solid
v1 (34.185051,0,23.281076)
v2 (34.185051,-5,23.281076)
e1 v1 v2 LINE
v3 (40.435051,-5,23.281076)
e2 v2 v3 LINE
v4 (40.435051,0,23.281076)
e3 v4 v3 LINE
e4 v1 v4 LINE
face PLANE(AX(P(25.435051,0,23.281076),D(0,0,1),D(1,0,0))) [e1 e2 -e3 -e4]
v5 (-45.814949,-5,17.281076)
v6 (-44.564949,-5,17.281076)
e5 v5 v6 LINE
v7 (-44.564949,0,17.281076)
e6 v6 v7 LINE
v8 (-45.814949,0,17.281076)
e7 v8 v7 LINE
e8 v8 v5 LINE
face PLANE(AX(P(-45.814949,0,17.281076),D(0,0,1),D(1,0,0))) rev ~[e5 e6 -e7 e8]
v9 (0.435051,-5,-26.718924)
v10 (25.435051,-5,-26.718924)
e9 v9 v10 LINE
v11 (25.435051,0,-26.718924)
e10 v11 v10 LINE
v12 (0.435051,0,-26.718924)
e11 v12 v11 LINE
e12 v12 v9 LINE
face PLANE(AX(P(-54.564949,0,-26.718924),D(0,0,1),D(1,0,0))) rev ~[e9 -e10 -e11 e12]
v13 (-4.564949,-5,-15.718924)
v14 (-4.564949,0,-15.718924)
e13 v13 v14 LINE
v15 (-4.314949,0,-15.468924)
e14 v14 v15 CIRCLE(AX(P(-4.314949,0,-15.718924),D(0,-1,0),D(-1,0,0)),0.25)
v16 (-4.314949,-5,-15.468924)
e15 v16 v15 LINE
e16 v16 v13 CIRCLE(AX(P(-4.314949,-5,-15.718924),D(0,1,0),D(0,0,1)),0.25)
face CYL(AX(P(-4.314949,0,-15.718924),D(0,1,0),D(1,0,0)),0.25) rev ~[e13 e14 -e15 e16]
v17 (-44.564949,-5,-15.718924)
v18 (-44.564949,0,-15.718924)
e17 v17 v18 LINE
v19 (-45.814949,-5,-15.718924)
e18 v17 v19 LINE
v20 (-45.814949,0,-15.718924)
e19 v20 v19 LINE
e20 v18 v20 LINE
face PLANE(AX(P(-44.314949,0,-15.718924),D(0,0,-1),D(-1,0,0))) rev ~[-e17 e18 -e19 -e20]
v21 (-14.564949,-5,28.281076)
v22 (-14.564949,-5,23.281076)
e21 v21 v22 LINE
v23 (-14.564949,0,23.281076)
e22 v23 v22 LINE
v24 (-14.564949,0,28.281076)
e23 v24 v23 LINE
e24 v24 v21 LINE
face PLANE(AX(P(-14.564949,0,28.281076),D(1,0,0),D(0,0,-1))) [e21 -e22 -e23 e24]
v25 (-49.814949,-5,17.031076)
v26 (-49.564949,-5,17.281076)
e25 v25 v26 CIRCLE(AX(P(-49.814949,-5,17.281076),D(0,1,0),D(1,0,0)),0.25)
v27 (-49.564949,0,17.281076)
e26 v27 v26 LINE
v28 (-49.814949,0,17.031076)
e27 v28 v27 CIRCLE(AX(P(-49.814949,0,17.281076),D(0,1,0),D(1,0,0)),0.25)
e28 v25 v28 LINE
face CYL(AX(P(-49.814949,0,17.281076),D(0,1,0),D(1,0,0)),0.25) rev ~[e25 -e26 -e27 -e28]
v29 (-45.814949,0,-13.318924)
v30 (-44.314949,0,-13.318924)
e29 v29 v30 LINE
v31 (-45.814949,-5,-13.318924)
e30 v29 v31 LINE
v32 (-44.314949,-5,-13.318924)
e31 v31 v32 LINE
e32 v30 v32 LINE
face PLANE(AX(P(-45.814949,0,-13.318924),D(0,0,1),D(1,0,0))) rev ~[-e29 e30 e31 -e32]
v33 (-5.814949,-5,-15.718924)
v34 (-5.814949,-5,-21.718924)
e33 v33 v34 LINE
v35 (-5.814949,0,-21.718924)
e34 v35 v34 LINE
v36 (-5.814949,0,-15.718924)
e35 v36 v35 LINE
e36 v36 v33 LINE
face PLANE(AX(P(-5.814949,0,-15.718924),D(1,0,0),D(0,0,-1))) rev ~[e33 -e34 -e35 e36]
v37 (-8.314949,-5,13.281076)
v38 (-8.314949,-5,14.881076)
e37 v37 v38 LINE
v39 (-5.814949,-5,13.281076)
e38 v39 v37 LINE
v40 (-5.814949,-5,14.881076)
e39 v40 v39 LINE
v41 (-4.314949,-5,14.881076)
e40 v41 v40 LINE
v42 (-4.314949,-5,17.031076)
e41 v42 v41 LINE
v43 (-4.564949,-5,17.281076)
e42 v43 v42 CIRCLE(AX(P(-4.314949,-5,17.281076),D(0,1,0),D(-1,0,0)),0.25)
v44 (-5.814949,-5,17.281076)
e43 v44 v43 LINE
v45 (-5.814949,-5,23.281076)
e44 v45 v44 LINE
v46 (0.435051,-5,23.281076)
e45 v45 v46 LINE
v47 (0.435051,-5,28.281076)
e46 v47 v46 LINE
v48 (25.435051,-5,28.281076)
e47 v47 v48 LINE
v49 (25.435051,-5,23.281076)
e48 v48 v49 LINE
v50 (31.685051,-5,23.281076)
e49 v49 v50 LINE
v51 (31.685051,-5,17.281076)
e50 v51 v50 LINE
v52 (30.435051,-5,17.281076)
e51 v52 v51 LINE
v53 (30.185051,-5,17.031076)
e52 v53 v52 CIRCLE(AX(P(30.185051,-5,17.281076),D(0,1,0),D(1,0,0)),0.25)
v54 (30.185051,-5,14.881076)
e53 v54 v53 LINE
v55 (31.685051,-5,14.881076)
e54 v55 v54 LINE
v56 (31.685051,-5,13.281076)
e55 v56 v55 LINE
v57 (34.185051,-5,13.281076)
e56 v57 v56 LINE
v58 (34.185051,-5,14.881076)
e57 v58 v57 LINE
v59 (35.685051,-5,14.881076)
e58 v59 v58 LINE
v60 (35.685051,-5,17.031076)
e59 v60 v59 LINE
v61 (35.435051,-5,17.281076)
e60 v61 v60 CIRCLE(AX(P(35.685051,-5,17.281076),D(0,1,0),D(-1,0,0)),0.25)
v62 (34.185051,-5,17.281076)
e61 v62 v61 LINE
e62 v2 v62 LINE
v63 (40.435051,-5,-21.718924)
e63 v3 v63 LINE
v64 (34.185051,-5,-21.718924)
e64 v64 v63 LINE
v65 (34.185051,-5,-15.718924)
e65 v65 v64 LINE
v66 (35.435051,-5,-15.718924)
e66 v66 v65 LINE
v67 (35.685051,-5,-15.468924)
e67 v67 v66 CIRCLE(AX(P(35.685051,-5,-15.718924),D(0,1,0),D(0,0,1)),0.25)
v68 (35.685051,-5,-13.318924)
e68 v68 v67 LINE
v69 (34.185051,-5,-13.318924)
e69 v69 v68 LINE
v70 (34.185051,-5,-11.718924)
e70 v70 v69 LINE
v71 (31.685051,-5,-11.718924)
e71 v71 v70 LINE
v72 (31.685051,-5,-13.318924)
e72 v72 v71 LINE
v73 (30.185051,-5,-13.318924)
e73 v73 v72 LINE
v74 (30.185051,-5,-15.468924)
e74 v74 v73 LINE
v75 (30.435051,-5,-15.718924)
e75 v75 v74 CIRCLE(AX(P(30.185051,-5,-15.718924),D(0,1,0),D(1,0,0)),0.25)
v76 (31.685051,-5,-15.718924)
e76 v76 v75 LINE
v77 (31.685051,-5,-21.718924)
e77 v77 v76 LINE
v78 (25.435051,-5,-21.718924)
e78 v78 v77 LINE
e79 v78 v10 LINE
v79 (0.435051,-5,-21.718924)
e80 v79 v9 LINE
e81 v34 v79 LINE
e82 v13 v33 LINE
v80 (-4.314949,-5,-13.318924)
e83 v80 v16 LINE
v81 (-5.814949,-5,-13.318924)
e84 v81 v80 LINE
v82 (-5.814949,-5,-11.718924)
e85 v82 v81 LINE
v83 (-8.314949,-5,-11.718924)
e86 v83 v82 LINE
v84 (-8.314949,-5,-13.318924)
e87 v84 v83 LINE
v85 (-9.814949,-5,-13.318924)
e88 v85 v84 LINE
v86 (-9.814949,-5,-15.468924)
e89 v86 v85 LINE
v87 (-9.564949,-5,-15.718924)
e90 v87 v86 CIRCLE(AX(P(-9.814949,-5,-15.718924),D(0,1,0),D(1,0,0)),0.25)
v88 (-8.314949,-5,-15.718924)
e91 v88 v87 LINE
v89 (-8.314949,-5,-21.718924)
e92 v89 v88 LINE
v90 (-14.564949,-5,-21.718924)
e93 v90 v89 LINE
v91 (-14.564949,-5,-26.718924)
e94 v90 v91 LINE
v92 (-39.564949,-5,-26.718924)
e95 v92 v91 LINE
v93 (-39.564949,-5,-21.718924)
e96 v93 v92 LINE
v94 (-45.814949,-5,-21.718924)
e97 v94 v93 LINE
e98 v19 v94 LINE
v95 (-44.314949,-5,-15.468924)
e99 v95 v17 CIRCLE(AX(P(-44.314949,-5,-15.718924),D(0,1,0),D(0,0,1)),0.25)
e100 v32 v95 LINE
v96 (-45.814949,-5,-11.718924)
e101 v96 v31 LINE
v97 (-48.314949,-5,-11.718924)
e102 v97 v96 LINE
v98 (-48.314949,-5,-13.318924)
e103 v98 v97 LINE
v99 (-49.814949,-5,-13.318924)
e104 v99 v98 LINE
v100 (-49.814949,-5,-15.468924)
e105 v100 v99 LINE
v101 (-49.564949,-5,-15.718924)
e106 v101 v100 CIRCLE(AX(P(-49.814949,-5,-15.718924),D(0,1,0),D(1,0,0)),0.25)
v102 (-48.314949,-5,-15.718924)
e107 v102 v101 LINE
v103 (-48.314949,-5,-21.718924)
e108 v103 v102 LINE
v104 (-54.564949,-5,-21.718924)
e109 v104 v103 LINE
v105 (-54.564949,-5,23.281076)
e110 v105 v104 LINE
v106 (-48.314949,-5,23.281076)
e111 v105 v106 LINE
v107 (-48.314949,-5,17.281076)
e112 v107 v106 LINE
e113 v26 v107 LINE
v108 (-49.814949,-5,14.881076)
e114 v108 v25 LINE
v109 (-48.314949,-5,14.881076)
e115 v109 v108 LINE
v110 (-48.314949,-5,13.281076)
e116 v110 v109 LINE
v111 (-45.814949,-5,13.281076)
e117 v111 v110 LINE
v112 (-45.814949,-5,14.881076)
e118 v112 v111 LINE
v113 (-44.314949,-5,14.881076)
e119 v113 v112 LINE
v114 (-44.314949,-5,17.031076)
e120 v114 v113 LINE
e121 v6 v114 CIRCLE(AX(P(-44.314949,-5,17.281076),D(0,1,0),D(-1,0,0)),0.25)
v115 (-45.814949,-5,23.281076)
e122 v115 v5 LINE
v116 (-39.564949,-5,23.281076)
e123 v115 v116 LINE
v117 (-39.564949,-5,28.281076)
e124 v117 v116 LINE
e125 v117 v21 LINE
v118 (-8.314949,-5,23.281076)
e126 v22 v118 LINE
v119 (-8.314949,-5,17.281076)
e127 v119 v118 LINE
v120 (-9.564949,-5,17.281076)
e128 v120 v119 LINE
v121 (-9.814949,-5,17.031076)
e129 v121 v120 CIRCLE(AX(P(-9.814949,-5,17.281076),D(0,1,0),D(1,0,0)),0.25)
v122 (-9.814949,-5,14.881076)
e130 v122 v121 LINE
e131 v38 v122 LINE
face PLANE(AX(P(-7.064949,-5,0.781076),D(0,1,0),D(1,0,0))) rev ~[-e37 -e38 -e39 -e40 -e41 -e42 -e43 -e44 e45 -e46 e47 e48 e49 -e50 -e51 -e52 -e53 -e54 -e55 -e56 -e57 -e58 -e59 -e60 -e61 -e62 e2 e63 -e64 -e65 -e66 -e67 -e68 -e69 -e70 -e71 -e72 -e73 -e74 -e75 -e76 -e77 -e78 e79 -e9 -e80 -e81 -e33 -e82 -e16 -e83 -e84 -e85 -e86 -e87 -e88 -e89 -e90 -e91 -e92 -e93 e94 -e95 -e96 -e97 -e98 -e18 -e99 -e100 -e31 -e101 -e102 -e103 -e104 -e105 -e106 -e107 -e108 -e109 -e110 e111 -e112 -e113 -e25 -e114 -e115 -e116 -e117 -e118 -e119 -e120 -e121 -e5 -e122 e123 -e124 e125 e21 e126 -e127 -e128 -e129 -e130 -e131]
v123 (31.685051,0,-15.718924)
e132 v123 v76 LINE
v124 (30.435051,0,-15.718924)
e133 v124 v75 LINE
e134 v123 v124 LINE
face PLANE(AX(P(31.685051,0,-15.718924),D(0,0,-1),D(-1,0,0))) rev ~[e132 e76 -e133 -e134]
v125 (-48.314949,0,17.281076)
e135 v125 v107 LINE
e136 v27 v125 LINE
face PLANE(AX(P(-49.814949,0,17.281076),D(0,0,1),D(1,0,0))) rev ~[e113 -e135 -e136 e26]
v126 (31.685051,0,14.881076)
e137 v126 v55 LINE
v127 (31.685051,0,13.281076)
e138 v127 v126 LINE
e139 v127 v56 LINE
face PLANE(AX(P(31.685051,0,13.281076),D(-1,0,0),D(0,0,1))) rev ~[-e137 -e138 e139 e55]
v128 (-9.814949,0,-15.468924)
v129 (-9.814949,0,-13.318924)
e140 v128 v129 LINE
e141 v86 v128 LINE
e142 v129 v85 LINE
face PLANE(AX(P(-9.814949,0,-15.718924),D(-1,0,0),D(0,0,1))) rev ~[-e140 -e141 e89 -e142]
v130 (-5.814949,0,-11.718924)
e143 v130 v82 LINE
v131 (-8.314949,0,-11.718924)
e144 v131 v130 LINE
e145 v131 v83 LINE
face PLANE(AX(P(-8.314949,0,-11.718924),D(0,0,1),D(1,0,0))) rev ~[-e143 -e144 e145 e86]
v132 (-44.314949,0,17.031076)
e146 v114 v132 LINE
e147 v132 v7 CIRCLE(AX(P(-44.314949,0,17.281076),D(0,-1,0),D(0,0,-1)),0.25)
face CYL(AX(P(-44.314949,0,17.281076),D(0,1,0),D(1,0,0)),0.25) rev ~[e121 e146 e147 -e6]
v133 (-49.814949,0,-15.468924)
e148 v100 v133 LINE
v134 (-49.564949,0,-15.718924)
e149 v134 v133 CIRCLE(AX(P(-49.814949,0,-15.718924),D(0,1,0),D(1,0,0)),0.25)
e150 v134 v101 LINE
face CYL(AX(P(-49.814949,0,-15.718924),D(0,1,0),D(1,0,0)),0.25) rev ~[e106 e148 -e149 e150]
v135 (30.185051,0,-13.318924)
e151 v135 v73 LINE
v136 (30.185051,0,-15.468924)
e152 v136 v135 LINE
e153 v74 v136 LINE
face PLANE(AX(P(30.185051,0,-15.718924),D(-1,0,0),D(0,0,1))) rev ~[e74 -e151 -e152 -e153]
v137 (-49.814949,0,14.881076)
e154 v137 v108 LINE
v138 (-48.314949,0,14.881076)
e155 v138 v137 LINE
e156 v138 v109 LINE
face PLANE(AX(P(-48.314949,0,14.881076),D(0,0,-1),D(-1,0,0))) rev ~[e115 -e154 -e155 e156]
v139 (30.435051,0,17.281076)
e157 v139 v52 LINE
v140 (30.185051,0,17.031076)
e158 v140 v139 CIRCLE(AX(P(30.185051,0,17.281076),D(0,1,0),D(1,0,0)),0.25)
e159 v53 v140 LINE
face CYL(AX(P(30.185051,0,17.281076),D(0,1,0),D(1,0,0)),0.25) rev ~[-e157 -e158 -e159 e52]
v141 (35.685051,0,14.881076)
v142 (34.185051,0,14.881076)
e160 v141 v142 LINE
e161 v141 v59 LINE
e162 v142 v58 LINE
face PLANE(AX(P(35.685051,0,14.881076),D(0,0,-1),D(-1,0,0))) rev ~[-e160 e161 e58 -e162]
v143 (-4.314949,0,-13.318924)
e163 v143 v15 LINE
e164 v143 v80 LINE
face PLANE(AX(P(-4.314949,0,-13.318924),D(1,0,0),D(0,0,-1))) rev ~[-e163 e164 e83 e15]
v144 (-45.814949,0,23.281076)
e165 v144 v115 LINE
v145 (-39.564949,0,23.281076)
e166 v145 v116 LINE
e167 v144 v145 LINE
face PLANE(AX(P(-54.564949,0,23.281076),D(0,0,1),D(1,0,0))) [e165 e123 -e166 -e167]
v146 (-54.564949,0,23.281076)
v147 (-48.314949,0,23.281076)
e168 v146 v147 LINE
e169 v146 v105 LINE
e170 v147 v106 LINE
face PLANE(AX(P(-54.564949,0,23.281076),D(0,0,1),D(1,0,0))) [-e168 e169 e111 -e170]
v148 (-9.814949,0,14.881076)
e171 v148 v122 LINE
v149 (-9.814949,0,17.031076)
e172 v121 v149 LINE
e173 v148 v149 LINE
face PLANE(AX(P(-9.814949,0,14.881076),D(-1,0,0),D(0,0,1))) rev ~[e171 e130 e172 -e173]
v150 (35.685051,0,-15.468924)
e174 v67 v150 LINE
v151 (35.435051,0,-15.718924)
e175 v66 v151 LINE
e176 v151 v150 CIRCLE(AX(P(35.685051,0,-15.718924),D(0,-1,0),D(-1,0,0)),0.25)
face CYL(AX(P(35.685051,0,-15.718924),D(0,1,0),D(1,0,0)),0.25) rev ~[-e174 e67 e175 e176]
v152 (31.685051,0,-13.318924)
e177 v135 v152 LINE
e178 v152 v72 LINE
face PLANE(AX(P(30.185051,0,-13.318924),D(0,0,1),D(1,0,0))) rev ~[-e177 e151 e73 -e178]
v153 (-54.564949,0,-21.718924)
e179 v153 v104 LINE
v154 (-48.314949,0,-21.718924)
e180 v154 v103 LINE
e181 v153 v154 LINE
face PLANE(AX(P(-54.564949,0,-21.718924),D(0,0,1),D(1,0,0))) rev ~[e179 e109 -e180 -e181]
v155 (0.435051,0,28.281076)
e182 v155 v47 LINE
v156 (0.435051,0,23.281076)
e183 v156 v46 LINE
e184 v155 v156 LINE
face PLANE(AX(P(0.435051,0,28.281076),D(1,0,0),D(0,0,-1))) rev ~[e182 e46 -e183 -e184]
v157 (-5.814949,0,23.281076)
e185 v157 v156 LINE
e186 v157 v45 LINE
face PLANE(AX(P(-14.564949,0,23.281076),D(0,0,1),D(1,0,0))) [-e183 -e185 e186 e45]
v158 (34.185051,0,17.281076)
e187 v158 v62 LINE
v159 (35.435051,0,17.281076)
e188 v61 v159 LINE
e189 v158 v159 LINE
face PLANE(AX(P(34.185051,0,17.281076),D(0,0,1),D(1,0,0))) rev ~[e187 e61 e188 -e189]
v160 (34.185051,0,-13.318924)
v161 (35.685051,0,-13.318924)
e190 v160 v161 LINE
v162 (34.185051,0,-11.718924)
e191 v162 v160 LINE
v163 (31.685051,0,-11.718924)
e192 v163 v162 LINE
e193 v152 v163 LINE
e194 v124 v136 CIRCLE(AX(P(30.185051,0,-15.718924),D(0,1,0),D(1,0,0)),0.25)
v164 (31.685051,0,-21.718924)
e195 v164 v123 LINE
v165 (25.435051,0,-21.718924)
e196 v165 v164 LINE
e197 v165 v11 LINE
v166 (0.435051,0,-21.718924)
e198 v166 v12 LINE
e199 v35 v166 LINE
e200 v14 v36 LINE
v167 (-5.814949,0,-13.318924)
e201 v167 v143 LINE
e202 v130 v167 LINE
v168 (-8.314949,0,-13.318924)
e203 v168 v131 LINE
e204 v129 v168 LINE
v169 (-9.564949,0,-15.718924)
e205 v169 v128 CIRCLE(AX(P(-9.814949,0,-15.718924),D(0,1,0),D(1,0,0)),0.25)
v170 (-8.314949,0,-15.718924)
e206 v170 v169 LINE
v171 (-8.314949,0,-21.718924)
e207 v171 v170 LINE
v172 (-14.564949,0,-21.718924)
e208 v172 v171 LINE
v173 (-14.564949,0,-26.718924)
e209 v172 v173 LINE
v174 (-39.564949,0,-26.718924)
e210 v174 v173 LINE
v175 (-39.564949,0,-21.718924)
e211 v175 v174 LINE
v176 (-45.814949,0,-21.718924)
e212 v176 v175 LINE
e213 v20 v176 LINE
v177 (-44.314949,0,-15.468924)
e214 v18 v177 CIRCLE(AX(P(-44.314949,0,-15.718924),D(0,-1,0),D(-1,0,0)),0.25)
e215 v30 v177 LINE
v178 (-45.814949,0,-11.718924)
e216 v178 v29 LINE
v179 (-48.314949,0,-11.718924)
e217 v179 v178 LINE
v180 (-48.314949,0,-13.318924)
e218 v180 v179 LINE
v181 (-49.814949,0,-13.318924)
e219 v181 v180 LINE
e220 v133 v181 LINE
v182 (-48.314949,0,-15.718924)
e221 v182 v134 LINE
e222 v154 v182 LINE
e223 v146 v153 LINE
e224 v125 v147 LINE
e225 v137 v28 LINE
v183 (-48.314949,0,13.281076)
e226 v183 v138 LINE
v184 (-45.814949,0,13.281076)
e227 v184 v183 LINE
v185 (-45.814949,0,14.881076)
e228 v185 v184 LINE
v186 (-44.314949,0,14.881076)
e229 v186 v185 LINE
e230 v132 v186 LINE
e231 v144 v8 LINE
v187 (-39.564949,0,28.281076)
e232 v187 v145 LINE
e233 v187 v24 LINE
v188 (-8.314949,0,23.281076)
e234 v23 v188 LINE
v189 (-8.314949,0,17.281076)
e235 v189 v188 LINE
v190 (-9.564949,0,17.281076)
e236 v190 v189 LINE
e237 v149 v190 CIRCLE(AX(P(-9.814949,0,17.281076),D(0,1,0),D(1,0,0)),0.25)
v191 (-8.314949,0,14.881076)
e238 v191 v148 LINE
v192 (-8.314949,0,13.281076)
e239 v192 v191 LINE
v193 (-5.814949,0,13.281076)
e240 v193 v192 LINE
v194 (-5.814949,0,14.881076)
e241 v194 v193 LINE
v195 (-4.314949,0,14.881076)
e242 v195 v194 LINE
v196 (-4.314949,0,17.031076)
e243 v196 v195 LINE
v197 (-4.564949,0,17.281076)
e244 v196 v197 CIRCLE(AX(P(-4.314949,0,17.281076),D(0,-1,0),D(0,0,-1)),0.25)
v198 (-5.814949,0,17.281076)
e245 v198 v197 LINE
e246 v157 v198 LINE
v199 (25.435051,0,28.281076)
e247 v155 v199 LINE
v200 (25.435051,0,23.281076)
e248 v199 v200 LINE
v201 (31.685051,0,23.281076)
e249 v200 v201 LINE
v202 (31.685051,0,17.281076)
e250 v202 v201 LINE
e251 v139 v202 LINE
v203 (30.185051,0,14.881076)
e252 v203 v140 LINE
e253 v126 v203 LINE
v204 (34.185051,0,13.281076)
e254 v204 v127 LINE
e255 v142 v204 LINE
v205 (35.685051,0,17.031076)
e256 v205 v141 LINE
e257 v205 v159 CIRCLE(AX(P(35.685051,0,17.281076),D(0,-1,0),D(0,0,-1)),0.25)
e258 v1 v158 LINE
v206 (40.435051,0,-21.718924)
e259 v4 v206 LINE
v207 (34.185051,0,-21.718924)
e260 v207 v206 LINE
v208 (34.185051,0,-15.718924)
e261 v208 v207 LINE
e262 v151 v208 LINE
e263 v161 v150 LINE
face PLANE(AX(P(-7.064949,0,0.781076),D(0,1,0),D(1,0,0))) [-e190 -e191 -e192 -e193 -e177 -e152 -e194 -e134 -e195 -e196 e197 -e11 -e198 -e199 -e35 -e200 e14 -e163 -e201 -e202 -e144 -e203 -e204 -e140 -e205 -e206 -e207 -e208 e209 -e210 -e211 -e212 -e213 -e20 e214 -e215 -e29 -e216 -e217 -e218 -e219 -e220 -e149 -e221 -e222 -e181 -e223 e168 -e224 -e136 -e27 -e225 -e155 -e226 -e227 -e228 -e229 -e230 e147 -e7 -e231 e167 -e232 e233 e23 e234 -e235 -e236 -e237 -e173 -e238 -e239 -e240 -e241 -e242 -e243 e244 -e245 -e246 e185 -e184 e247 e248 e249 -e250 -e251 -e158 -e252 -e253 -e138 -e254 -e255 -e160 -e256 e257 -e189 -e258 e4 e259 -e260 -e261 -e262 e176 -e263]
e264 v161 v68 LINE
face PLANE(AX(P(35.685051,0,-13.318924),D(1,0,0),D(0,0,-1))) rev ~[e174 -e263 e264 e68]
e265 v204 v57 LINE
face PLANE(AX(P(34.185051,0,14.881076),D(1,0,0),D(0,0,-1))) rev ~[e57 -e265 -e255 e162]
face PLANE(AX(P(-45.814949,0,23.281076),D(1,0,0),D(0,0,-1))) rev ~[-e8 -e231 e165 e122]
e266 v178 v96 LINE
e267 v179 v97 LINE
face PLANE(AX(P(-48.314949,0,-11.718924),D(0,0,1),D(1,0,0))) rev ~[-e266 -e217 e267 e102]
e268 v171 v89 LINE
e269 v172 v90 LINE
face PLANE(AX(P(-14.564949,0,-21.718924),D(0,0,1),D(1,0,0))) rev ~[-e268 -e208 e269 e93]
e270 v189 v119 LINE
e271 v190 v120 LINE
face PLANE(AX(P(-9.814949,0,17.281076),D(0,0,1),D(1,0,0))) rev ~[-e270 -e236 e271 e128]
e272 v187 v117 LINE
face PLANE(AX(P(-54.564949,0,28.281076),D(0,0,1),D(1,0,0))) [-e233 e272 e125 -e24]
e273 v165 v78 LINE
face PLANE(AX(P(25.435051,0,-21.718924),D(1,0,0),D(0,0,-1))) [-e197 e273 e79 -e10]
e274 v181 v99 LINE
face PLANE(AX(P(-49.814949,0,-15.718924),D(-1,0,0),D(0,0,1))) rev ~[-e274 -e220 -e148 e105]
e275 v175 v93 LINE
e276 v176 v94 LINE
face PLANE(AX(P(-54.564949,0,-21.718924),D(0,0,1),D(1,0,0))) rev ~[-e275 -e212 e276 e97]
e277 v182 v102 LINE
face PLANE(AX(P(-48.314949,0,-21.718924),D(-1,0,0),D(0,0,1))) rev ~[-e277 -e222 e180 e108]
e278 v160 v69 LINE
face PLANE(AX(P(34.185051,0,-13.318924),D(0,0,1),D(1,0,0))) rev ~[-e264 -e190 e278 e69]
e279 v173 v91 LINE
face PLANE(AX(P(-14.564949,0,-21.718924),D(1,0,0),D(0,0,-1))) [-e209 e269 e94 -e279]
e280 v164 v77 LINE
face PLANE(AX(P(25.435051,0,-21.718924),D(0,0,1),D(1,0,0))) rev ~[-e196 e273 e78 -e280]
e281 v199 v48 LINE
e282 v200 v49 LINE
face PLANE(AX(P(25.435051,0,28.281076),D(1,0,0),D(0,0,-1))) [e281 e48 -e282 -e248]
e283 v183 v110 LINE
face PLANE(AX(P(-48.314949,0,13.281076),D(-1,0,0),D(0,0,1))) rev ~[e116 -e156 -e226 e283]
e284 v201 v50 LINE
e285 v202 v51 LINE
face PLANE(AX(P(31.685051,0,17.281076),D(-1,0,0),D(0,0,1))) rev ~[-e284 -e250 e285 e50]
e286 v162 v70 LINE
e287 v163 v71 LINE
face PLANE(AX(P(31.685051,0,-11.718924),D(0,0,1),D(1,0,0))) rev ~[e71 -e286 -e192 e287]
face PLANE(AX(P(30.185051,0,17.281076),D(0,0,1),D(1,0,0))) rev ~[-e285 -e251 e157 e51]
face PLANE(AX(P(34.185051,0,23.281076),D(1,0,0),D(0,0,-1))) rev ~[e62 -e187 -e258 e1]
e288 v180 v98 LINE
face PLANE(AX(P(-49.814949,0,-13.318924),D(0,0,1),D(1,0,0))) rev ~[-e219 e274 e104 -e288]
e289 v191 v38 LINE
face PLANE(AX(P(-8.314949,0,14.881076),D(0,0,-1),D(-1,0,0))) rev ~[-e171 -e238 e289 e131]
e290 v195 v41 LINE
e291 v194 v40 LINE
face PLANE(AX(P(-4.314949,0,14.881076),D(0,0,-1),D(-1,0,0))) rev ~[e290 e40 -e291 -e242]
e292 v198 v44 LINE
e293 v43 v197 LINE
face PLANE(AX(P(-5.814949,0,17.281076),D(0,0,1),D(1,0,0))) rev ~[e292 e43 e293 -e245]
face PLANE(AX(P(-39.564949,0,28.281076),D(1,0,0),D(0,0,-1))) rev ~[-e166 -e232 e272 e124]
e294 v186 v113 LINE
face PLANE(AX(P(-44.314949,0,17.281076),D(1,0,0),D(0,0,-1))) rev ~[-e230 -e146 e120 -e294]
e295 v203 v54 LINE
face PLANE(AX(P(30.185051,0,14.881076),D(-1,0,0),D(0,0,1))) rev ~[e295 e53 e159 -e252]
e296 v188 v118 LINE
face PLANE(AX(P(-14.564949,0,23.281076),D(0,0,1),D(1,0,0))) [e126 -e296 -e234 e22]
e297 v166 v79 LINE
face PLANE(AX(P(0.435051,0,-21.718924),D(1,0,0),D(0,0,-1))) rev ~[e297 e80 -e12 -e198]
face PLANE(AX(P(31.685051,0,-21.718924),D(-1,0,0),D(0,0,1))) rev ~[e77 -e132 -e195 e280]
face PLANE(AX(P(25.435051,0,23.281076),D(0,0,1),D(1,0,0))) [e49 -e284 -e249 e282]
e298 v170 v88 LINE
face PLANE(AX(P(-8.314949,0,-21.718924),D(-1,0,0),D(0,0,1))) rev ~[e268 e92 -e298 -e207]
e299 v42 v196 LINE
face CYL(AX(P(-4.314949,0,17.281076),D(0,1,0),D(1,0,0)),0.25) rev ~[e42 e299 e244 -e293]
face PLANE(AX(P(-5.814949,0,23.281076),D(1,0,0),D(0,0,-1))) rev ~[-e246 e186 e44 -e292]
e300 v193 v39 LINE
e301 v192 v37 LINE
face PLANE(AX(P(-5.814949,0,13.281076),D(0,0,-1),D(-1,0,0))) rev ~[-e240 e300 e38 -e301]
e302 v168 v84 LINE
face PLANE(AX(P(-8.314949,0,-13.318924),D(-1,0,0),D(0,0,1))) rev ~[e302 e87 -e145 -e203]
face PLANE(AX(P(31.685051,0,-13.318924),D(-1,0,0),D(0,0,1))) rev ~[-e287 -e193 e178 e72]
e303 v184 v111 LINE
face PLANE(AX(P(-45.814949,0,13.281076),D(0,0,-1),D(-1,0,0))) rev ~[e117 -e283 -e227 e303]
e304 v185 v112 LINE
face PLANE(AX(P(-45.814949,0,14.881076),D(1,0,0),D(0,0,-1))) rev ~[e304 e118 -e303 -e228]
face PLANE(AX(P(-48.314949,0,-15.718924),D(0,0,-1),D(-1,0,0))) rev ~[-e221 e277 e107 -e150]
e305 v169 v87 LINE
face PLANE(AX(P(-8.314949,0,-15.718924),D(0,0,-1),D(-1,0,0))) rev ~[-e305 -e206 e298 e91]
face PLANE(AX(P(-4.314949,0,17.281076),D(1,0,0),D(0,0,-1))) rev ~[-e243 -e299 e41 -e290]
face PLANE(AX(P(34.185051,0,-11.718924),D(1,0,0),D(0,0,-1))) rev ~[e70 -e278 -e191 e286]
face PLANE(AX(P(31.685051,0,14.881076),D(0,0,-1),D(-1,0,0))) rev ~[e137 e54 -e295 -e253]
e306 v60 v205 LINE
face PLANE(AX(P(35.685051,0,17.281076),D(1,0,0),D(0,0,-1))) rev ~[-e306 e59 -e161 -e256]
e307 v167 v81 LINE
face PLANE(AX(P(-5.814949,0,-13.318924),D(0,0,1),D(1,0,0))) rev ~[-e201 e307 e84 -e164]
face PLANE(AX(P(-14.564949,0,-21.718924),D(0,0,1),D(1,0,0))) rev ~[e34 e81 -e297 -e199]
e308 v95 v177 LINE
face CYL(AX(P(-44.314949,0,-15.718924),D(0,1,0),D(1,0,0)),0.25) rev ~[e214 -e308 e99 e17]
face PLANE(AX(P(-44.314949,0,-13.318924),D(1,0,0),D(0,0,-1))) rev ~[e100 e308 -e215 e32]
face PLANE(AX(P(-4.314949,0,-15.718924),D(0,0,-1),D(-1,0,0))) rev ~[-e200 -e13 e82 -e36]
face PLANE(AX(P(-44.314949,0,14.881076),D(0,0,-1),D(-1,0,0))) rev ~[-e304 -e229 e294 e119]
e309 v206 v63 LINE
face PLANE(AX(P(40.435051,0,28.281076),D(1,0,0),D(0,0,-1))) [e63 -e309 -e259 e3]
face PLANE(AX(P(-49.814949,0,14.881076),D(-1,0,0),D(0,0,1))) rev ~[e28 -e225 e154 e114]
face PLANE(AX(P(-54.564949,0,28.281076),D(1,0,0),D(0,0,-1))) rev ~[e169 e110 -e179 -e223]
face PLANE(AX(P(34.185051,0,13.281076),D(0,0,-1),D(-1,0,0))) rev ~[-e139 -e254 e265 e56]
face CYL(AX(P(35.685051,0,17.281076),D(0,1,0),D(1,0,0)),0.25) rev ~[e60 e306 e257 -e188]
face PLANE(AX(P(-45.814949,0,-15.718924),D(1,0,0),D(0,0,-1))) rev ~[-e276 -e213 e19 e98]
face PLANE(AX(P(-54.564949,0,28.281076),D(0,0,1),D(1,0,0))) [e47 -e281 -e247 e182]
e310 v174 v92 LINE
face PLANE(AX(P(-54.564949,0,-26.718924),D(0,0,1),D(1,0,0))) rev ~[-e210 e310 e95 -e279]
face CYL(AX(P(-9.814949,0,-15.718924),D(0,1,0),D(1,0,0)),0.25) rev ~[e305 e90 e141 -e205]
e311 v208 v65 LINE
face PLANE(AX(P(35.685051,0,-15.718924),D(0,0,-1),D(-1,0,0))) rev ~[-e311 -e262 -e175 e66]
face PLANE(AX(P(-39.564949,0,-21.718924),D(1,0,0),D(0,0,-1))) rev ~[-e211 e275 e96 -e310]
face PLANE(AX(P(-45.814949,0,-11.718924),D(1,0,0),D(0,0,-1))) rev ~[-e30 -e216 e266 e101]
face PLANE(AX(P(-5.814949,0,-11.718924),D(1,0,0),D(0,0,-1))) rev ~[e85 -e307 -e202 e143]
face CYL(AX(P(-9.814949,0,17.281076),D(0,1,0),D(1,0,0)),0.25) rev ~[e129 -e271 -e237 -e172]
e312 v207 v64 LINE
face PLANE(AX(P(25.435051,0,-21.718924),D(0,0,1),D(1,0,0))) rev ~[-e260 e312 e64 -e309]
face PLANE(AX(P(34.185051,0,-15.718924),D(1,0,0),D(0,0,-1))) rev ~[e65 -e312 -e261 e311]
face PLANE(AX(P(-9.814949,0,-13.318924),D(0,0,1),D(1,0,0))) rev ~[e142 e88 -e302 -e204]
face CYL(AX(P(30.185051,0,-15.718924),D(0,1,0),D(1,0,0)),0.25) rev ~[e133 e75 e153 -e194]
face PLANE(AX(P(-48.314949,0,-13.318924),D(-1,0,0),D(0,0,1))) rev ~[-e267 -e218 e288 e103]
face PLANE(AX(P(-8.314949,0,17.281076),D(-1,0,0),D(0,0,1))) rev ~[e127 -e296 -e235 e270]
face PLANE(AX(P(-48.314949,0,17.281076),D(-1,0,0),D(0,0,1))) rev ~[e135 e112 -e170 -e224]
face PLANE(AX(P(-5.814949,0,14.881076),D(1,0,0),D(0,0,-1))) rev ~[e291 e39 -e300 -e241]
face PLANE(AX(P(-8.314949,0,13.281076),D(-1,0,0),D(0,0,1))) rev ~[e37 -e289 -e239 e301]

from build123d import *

# Parameters (mm, degrees)
SCHIZZO1_W                   = 95
SCHIZZO1_H                   = 55
ESTRUSIONE_ESTRUSIONE2_DEPTH = 5
SCHIZZO2_W                   = 15
SCHIZZO2_H                   = 5
TAGLIO_ESTRUSIONE1_DEPTH     = 6
TAGLIO_ESTRUSIONE3_DEPTH     = 6
SCHIZZO4_R                   = 0.25
TAGLIO_ESTRUSIONE4_DEPTH     = 10


with BuildPart() as part:
    # Schizzo1 → Estrusione-Estrusione2 (new body)
    with BuildSketch(Plane(origin=(0, 0, 0), x_dir=(1, 0, 0), z_dir=(0, 1, 0))):
        with Locations((-7.06494914, -0.781075862)):
            Rectangle(SCHIZZO1_W, SCHIZZO1_H)
    extrude(amount=-ESTRUSIONE_ESTRUSIONE2_DEPTH)

    # Schizzo2 → Taglio-Estrusione1 (cut, through all)
    with BuildSketch(Plane(origin=(0, 0, 0), x_dir=(1, 0, 0), z_dir=(0, 1, 0))):
        with Locations((-47.06494914, -25.781075862)):
            Rectangle(SCHIZZO2_W, SCHIZZO2_H)
        with Locations((-47.06494914, 24.218924138)):
            Rectangle(SCHIZZO2_W, SCHIZZO2_H)
        with Locations((32.93505086, -25.781075862)):
            Rectangle(SCHIZZO2_W, SCHIZZO2_H)
        with Locations((32.93505086, 24.218924138)):
            Rectangle(SCHIZZO2_W, SCHIZZO2_H)
        with Locations((-7.06494914, -25.781075862)):
            Rectangle(SCHIZZO2_W, SCHIZZO2_H)
        with Locations((-7.06494914, 24.218924138)):
            Rectangle(SCHIZZO2_W, SCHIZZO2_H)
    extrude(amount=-TAGLIO_ESTRUSIONE1_DEPTH, mode=Mode.SUBTRACT)

    # Schizzo3 → Taglio-Estrusione3 (cut, through all)
    with BuildSketch(Plane(origin=(0, 0, 0), x_dir=(1, 0, 0), z_dir=(0, 1, 0))):
        Polygon((-48.31494914, -23.281075862), (-45.81494914, -23.281075862), (-45.81494914, -17.281075862), (-44.31494914, -17.281075862), (-44.31494914, -14.881075862), (-45.81494914, -14.881075862), (-45.81494914, -13.281075862), (-48.31494914, -13.281075862), (-48.31494914, -14.881075862), (-49.81494914, -14.881075862), (-49.81494914, -17.281075862), (-48.31494914, -17.281075862), align=None)
        Polygon((-8.31494914, -23.281075862), (-5.81494914, -23.281075862), (-5.81494914, -17.281075862), (-4.31494914, -17.281075862), (-4.31494914, -14.881075862), (-5.81494914, -14.881075862), (-5.81494914, -13.281075862), (-8.31494914, -13.281075862), (-8.31494914, -14.881075862), (-9.81494914, -14.881075862), (-9.81494914, -17.281075862), (-8.31494914, -17.281075862), align=None)
        Polygon((31.68505086, -23.281075862), (34.18505086, -23.281075862), (34.18505086, -17.281075862), (35.68505086, -17.281075862), (35.68505086, -14.881075862), (34.18505086, -14.881075862), (34.18505086, -13.281075862), (31.68505086, -13.281075862), (31.68505086, -14.881075862), (30.18505086, -14.881075862), (30.18505086, -17.281075862), (31.68505086, -17.281075862), align=None)
        Polygon((31.68505086, 11.718924138), (34.18505086, 11.718924138), (34.18505086, 13.318924138), (35.68505086, 13.318924138), (35.68505086, 15.718924138), (34.18505086, 15.718924138), (34.18505086, 21.718924138), (31.68505086, 21.718924138), (31.68505086, 15.718924138), (30.18505086, 15.718924138), (30.18505086, 13.318924138), (31.68505086, 13.318924138), align=None)
        Polygon((-8.31494914, 11.718924138), (-5.81494914, 11.718924138), (-5.81494914, 13.318924138), (-4.31494914, 13.318924138), (-4.31494914, 15.718924138), (-5.81494914, 15.718924138), (-5.81494914, 21.718924138), (-8.31494914, 21.718924138), (-8.31494914, 15.718924138), (-9.81494914, 15.718924138), (-9.81494914, 13.318924138), (-8.31494914, 13.318924138), align=None)
        Polygon((-48.31494914, 11.718924138), (-45.81494914, 11.718924138), (-45.81494914, 13.318924138), (-44.31494914, 13.318924138), (-44.31494914, 15.718924138), (-45.81494914, 15.718924138), (-45.81494914, 21.718924138), (-48.31494914, 21.718924138), (-48.31494914, 15.718924138), (-49.81494914, 15.718924138), (-49.81494914, 13.318924138), (-48.31494914, 13.318924138), align=None)
    extrude(amount=-TAGLIO_ESTRUSIONE3_DEPTH, mode=Mode.SUBTRACT)

    # Schizzo4 → Taglio-Estrusione4 (cut)
    with BuildSketch(Plane(origin=(0, 0, 0), x_dir=(1, 0, 0), z_dir=(0, 1, 0))):
        with Locations((-49.81494914, -17.281075862)):
            Circle(SCHIZZO4_R)
        with Locations((-44.31494914, -17.281075862)):
            Circle(SCHIZZO4_R)
        with Locations((-9.81494914, -17.281075862)):
            Circle(SCHIZZO4_R)
        with Locations((-4.31494914, -17.281075862)):
            Circle(SCHIZZO4_R)
        with Locations((30.18505086, -17.281075862)):
            Circle(SCHIZZO4_R)
        with Locations((35.68505086, -17.281075862)):
            Circle(SCHIZZO4_R)
        with Locations((-49.81494914, 15.718924138)):
            Circle(SCHIZZO4_R)
        with Locations((-44.31494914, 15.718924138)):
            Circle(SCHIZZO4_R)
        with Locations((-9.81494914, 15.718924138)):
            Circle(SCHIZZO4_R)
        with Locations((-4.31494914, 15.718924138)):
            Circle(SCHIZZO4_R)
        with Locations((30.18505086, 15.718924138)):
            Circle(SCHIZZO4_R)
        with Locations((35.68505086, 15.718924138)):
            Circle(SCHIZZO4_R)
    extrude(amount=-TAGLIO_ESTRUSIONE4_DEPTH, mode=Mode.SUBTRACT)


solid = part.part
